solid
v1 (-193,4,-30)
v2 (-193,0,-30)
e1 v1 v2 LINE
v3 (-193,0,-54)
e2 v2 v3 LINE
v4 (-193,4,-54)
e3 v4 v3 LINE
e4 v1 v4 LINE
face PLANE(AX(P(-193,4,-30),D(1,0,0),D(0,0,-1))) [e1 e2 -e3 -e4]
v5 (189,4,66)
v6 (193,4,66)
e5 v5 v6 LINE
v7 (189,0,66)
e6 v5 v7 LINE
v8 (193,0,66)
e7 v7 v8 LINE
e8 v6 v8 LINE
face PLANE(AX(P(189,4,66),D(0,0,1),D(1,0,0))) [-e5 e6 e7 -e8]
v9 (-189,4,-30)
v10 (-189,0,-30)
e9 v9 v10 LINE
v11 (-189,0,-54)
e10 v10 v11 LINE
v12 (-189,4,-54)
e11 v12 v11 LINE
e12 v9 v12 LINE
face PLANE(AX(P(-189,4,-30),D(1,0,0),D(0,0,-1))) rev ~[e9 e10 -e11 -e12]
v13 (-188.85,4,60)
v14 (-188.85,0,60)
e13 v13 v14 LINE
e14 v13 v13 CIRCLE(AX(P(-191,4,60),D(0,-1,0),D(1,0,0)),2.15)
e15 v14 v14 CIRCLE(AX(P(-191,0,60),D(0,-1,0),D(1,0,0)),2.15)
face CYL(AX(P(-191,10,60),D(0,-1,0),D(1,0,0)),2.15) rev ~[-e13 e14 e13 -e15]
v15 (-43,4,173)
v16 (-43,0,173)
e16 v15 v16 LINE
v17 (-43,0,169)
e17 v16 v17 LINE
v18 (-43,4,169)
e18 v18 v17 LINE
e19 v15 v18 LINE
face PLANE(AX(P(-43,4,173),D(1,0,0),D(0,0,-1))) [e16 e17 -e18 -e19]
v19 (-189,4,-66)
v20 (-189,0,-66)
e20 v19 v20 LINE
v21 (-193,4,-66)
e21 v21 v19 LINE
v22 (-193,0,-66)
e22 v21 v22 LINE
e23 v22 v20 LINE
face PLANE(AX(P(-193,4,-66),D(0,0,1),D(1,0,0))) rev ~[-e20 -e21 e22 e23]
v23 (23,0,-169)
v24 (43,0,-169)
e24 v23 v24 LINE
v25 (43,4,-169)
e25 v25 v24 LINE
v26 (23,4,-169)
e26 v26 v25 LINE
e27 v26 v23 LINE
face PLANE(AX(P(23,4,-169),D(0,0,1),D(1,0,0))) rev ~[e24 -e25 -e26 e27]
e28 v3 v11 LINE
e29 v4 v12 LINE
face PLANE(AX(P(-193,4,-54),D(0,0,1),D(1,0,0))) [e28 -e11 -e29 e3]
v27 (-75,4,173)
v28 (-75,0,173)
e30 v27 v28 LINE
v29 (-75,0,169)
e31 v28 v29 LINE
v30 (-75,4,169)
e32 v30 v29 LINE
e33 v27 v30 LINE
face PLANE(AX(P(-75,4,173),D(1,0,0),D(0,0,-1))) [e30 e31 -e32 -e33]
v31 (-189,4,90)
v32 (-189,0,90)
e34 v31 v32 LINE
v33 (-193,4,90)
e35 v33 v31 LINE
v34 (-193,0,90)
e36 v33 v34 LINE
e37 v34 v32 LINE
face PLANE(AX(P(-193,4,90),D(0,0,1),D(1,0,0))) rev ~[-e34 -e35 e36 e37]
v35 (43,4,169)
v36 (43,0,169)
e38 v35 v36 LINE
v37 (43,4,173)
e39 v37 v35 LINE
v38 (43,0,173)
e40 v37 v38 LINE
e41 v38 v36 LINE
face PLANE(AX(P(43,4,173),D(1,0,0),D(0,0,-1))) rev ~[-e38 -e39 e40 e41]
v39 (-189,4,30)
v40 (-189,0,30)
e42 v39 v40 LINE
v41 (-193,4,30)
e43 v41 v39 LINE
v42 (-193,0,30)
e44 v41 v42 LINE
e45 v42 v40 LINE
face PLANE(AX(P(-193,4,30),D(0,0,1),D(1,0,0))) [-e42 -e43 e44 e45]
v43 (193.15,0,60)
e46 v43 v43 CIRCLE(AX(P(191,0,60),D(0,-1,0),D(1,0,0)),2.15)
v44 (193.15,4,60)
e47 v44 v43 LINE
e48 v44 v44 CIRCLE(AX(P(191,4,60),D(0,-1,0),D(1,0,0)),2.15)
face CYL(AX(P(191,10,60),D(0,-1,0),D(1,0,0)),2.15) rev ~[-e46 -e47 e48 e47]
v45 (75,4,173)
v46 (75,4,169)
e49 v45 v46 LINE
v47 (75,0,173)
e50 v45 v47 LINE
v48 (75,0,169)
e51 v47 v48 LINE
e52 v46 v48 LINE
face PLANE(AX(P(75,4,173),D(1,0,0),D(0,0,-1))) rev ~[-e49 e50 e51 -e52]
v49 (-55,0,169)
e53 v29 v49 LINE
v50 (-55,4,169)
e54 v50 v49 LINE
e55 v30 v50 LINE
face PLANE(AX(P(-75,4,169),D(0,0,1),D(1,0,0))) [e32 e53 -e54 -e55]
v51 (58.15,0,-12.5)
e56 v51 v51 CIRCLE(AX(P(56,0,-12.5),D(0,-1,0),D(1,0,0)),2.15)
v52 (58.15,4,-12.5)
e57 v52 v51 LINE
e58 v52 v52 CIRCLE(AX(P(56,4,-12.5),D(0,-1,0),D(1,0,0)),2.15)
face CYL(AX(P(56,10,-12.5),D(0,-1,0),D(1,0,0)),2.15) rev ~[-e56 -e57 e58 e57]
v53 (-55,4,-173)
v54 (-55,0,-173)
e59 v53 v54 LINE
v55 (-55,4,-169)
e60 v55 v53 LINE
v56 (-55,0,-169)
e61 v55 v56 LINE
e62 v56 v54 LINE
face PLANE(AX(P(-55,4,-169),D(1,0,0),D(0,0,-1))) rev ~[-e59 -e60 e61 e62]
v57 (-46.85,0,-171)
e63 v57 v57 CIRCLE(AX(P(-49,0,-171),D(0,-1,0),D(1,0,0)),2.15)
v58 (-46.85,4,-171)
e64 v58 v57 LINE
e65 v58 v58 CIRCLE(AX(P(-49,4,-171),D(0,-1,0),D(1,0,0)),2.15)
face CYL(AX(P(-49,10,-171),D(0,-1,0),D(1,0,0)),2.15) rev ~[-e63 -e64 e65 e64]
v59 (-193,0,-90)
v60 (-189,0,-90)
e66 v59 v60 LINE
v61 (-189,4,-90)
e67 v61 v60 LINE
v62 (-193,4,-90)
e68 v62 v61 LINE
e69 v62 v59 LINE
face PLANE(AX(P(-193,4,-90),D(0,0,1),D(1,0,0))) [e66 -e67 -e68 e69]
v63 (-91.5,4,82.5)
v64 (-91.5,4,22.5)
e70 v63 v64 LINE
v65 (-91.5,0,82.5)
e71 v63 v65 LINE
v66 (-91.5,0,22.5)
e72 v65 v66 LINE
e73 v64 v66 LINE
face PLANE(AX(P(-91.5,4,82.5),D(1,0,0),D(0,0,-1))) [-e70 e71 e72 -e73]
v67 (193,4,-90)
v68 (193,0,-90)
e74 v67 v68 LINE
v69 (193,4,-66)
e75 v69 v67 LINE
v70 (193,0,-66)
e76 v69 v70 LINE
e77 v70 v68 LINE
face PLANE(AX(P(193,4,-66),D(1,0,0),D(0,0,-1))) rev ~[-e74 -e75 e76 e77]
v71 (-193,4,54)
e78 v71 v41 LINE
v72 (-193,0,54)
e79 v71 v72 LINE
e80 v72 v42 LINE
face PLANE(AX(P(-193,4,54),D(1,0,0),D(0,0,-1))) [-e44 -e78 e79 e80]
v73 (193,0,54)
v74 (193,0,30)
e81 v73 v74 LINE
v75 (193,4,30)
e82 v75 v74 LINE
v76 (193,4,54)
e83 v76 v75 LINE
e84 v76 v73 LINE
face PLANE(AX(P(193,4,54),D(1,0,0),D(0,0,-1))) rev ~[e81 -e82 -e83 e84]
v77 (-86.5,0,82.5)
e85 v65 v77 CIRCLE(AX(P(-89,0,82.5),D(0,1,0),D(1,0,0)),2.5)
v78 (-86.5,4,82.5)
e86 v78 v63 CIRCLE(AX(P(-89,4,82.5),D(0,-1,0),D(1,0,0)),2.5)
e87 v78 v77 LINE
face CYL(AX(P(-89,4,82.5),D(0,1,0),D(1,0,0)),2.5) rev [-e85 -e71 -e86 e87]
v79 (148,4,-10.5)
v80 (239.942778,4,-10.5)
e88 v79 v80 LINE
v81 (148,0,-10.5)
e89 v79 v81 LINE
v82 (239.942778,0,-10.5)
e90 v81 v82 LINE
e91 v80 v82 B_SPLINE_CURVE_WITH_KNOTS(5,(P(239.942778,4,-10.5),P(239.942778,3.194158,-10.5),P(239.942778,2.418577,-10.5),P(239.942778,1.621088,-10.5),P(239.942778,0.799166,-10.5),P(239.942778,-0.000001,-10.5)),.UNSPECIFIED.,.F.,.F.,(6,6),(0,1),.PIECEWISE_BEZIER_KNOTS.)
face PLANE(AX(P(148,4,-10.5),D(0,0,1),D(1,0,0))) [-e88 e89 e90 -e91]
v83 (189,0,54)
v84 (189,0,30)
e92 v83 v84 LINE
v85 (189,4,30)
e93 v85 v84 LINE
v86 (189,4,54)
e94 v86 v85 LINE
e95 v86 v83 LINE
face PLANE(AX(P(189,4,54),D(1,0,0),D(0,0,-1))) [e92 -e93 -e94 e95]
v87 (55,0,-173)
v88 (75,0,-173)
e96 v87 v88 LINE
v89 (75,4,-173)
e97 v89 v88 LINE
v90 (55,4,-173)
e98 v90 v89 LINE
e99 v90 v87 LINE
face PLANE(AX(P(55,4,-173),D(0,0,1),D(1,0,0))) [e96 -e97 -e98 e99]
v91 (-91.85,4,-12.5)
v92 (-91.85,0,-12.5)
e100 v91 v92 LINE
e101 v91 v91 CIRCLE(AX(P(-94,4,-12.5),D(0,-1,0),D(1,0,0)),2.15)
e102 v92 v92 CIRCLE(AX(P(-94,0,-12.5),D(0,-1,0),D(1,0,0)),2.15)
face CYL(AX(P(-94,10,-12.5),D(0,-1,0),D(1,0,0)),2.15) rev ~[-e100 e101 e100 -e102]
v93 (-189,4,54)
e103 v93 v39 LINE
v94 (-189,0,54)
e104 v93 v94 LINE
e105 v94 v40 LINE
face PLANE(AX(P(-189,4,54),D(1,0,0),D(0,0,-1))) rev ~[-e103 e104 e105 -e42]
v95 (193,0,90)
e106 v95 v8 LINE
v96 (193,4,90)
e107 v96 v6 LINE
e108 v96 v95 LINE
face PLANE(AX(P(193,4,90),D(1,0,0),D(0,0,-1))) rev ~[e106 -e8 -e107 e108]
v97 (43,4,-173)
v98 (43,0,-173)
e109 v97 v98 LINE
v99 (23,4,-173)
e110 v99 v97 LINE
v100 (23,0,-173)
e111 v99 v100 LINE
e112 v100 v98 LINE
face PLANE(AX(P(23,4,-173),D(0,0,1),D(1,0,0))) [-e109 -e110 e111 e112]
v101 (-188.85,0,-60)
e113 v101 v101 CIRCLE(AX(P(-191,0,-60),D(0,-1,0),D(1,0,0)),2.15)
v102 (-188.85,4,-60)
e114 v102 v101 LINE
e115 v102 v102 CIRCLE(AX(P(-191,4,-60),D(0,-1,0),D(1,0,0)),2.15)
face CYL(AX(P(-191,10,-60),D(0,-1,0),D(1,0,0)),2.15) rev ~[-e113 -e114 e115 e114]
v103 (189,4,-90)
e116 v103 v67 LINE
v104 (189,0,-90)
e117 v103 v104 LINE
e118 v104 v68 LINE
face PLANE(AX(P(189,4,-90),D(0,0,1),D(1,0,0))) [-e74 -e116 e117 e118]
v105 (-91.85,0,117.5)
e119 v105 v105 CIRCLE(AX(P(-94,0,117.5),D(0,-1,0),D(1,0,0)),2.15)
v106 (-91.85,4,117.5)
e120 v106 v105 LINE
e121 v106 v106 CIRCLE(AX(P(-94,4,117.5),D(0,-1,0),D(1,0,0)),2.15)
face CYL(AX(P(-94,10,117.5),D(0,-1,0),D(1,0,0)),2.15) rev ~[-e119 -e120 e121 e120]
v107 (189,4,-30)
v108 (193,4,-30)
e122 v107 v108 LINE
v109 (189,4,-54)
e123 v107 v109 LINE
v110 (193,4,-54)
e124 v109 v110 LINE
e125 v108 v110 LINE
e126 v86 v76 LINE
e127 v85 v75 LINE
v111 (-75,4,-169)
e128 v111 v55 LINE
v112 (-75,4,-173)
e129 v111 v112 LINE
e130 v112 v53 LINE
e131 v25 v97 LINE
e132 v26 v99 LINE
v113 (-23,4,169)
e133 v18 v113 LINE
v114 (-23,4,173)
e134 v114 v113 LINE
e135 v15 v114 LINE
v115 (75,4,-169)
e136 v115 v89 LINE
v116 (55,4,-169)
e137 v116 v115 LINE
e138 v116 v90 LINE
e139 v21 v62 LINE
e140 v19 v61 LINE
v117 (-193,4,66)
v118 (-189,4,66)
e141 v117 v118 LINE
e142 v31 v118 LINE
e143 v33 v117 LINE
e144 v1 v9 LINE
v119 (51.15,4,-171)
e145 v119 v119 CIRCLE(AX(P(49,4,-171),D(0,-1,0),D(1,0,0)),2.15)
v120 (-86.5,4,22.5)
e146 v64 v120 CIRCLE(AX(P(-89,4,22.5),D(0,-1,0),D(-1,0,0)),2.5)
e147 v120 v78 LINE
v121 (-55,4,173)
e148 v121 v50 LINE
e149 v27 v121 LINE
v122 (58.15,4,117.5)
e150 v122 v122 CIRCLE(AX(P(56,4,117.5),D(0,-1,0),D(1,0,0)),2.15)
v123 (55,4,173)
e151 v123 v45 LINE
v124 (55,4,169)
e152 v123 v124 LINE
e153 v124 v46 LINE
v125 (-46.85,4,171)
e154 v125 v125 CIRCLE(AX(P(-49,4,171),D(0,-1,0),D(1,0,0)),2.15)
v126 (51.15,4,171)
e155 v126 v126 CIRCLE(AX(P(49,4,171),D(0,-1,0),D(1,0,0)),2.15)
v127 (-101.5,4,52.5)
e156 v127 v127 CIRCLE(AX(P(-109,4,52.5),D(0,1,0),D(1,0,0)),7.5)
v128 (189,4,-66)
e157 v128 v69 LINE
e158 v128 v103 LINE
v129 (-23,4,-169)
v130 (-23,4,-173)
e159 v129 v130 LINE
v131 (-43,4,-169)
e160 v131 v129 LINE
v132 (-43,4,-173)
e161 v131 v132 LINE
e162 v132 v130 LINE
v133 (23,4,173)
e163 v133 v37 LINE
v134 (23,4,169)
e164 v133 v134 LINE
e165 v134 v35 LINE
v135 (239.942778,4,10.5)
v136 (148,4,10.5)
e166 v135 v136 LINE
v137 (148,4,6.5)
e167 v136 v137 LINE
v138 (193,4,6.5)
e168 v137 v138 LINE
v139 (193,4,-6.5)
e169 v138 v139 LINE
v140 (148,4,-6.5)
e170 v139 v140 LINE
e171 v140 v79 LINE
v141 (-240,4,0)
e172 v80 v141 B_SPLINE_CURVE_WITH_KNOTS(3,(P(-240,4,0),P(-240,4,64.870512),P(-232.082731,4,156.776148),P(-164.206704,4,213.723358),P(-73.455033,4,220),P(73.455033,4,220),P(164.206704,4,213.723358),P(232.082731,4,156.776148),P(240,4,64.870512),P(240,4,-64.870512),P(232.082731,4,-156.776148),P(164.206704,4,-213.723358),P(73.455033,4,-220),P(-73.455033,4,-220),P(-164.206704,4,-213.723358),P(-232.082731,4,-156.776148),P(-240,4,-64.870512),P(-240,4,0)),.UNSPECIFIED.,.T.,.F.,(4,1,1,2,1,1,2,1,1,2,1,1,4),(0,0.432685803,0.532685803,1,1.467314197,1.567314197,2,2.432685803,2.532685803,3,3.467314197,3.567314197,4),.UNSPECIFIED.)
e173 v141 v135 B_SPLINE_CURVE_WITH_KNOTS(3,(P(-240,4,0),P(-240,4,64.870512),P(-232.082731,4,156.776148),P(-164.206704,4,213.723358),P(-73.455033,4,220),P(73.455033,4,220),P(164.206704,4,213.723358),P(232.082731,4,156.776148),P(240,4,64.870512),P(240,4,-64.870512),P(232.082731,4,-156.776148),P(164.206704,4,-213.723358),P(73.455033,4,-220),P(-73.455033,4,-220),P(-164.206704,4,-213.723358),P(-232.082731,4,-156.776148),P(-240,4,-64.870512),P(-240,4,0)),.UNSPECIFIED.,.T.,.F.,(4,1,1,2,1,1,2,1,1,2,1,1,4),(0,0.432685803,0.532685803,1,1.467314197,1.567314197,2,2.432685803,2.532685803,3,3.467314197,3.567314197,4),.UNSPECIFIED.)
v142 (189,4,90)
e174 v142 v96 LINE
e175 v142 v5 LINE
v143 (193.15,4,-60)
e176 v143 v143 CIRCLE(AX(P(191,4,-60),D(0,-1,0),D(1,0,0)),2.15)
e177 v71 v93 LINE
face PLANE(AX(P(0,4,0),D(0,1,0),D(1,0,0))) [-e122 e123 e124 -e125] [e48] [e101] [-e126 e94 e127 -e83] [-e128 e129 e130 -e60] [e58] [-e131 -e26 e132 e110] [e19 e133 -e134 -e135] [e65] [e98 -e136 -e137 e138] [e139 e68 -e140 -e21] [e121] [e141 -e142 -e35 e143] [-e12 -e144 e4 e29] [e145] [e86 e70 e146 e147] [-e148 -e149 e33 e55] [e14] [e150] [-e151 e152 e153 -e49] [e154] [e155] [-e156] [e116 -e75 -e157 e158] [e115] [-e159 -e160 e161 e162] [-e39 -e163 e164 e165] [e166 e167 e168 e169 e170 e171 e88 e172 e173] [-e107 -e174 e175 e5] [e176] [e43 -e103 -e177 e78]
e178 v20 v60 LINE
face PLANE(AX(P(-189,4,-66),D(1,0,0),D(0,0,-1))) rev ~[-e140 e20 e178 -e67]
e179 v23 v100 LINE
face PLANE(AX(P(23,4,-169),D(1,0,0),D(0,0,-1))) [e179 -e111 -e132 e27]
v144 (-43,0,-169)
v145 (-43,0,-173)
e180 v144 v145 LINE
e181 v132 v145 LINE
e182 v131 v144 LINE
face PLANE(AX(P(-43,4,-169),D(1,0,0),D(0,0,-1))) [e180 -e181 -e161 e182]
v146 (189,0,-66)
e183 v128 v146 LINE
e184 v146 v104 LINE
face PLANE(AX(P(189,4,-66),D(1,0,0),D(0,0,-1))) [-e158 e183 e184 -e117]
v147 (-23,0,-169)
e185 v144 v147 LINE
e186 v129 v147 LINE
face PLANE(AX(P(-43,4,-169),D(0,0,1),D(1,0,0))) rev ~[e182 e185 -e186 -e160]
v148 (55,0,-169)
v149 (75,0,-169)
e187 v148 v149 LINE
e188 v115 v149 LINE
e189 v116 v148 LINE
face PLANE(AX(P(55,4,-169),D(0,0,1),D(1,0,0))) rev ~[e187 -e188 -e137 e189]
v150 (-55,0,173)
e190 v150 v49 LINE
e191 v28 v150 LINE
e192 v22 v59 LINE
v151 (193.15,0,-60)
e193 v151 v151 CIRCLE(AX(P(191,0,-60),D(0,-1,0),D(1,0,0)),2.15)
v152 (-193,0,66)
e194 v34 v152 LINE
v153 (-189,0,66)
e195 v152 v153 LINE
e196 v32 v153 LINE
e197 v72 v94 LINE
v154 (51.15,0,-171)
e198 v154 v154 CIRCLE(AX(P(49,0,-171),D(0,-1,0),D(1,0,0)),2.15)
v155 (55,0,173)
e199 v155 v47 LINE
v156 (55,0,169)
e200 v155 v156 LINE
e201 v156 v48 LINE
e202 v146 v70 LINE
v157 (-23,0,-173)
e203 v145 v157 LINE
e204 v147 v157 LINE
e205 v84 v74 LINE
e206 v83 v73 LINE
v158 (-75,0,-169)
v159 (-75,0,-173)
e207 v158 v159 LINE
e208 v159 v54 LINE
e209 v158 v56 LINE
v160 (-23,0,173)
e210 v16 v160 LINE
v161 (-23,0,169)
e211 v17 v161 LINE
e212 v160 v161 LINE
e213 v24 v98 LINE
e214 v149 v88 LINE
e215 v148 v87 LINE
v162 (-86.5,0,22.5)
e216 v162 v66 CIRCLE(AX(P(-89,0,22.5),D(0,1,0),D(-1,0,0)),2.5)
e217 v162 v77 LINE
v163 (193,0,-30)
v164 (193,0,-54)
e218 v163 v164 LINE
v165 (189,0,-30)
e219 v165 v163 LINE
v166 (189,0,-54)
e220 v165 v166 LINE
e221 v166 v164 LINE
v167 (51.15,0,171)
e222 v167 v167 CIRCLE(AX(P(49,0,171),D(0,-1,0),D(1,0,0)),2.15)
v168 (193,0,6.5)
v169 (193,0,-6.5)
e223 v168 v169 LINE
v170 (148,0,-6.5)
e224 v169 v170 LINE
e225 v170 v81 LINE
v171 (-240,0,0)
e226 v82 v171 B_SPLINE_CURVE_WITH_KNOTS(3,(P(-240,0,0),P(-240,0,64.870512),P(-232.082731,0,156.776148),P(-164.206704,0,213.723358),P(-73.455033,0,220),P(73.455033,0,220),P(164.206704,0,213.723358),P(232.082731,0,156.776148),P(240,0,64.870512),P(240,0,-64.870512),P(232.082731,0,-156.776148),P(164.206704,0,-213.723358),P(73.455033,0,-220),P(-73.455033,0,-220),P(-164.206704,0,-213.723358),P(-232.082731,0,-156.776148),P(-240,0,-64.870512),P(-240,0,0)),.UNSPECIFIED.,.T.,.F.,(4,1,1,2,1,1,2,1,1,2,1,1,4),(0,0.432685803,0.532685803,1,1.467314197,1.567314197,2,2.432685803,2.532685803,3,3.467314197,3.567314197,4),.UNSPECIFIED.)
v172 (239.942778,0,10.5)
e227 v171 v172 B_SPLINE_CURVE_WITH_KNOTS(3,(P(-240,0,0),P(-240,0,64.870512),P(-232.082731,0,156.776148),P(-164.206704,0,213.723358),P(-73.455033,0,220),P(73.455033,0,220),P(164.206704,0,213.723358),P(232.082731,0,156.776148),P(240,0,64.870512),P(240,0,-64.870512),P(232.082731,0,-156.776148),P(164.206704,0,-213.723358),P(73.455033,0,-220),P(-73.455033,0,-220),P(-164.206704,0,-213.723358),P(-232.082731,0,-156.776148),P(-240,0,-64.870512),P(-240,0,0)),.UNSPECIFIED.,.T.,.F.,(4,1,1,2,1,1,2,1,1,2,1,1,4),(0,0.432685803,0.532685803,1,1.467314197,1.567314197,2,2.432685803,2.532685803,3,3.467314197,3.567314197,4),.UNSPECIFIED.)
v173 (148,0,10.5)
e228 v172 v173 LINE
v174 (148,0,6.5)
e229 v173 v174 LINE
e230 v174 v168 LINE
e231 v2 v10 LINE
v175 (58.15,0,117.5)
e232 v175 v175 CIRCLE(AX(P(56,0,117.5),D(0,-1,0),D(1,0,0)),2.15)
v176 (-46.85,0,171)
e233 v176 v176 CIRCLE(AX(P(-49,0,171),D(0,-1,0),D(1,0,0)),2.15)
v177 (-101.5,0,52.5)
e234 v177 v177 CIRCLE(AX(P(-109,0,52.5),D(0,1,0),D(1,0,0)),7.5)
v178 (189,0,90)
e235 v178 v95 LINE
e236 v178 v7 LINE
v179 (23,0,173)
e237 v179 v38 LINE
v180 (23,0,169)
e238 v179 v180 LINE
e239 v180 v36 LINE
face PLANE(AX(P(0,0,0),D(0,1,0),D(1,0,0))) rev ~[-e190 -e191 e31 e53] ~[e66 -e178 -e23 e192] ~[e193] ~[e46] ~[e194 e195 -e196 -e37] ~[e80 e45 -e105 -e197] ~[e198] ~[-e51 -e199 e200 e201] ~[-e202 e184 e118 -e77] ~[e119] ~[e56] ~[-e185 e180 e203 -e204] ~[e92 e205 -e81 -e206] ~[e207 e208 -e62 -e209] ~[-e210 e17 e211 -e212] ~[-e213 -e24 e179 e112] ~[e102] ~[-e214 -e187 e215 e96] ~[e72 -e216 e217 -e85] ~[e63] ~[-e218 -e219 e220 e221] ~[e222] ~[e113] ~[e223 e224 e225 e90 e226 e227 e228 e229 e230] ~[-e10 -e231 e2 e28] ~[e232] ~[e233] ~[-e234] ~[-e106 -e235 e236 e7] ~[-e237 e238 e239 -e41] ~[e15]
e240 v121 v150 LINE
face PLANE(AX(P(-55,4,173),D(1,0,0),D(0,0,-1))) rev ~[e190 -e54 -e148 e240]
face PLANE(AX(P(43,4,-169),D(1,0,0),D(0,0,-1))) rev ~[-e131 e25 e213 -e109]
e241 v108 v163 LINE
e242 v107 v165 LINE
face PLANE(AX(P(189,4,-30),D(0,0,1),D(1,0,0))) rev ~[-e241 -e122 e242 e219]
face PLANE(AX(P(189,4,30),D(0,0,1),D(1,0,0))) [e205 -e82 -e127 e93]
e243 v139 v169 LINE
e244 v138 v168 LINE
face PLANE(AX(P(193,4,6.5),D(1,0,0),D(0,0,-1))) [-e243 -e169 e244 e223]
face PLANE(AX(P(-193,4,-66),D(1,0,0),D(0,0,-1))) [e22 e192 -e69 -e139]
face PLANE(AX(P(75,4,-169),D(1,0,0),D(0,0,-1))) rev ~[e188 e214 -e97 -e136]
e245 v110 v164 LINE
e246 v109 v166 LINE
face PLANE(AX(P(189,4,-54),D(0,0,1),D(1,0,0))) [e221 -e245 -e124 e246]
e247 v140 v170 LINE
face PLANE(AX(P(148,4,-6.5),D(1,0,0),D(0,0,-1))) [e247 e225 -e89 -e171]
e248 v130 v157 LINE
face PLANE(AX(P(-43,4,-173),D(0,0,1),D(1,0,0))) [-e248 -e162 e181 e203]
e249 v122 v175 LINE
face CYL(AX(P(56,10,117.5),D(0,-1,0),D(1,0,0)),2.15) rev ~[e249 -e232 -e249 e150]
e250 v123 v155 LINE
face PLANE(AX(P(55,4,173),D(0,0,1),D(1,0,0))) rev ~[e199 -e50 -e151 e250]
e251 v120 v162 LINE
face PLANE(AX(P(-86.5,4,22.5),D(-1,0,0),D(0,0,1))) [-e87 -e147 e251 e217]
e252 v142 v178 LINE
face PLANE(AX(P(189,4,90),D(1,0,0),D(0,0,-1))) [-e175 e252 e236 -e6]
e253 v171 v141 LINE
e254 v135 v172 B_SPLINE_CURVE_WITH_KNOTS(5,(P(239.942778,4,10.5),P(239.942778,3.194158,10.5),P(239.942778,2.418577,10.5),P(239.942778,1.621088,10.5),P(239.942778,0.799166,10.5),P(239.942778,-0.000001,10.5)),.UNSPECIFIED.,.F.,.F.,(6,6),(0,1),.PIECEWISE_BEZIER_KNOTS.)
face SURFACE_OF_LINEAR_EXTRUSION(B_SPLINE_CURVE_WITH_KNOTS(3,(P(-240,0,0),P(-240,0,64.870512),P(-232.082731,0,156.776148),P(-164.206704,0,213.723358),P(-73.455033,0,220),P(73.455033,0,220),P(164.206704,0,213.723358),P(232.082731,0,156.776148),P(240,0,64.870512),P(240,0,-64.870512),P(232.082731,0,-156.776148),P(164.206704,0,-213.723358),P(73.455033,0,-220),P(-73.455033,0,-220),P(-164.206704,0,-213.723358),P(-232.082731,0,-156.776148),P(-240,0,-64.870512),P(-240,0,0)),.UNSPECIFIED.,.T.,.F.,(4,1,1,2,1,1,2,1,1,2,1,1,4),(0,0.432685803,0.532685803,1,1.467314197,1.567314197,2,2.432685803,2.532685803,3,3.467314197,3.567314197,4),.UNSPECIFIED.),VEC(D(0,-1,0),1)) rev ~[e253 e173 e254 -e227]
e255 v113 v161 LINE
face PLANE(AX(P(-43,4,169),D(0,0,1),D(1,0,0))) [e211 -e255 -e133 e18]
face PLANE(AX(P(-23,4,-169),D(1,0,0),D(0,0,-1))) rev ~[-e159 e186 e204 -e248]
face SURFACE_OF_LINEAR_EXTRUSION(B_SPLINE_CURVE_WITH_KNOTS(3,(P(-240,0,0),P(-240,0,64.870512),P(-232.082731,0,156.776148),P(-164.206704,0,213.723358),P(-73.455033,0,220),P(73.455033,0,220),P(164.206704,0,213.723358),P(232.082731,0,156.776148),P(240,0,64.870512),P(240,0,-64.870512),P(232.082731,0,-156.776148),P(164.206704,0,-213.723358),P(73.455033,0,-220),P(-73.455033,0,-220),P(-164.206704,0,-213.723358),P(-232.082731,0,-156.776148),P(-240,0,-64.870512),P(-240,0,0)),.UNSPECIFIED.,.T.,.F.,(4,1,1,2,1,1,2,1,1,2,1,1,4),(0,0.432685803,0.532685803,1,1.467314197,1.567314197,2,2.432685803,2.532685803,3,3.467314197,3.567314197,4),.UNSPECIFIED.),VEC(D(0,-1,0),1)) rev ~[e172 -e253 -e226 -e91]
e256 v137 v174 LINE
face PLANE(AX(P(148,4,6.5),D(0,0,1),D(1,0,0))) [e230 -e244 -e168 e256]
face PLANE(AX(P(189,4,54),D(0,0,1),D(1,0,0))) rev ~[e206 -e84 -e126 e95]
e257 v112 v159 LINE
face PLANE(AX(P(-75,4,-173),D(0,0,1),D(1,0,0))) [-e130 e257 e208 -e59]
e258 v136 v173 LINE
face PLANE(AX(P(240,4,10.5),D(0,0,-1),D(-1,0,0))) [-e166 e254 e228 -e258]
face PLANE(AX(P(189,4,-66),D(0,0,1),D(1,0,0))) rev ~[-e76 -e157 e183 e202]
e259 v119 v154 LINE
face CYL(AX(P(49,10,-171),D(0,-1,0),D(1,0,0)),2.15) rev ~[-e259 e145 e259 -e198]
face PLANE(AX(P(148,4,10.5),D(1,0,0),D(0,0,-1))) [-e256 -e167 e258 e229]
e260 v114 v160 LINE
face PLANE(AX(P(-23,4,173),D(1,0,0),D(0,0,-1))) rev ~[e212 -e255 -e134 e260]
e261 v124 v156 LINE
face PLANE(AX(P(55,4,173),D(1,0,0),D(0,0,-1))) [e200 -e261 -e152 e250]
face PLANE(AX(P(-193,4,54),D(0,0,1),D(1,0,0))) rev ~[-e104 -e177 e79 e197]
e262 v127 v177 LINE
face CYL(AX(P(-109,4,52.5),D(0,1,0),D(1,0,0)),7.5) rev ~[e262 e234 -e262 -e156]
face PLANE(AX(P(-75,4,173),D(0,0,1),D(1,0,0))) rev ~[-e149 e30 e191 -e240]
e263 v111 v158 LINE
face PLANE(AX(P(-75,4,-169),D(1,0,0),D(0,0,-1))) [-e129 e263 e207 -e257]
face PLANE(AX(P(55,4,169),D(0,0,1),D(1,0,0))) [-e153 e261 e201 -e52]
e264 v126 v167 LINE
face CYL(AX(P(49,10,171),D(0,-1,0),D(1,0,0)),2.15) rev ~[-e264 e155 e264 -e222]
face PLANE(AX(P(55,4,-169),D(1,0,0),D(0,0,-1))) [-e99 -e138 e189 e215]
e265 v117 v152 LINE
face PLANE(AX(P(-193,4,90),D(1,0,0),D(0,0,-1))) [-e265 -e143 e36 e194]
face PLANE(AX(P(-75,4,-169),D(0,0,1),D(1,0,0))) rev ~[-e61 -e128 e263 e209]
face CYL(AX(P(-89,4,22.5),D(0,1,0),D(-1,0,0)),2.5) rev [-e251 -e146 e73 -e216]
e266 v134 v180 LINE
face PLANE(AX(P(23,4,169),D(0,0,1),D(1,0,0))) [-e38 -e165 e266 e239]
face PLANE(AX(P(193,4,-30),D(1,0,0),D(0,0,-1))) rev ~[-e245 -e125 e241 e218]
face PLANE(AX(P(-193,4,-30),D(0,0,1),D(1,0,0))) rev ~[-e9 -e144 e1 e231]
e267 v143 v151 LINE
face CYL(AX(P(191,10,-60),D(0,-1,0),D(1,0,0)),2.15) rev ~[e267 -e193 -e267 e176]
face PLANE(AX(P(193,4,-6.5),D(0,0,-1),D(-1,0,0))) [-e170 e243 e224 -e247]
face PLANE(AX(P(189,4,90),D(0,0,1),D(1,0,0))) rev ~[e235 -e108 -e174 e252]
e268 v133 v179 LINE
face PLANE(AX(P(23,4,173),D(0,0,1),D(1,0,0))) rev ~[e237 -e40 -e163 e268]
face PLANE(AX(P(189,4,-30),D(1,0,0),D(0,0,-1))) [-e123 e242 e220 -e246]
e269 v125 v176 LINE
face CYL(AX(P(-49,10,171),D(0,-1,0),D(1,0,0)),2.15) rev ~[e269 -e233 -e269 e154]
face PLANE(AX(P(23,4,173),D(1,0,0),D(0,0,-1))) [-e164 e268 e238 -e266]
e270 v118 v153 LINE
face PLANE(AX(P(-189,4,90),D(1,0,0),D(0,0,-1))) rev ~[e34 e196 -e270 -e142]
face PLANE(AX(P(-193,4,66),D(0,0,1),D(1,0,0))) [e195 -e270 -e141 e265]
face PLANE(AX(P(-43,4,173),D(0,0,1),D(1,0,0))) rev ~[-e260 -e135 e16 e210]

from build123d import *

# Parameters (mm, degrees)
BOSS_EXTRUDE1_DEPTH      = 4
SKETCH2_W                = 4
SKETCH2_H                = 24
SKETCH2_W_2              = 20
SKETCH2_H_2              = 4
CUT_EXTRUDE1_DEPTH       = 6
M4_CLEARANCE_HOLE1_D     = 4.3
M4_CLEARANCE_HOLE1_DEPTH = 6
M4_CLEARANCE_HOLE1_TIP   = 1.291850331
M4_CLEARANCE_HOLE2_D     = 4.3
M4_CLEARANCE_HOLE2_DEPTH = 6
M4_CLEARANCE_HOLE2_TIP   = 1.291850331
SKETCH7_R                = 7.5
CUT_EXTRUDE2_DEPTH       = 10


with BuildPart() as part:
    # Sketch1 → Boss-Extrude1 (new body)
    with BuildSketch(Plane(origin=(0, 0, 0), x_dir=(1, 0, 0), z_dir=(0, 1, 0))):
        with BuildLine():
            add(Edge.make_bspline(
                [(0, 220), (-73.455033332, 220), (-164.206703598, 213.723358009), (-232.08273123, 156.77614821), (-240, 64.870512103), (-240, 0)],
                knots=[0, 0, 0, 0, 0.467314197, 0.567314197, 1, 1, 1, 1], degree=3))
            add(Edge.make_bspline(
                [(0, -220), (-73.455033332, -220), (-164.206703598, -213.723358009), (-232.08273123, -156.77614821), (-240, -64.870512103), (-240, 0)],
                knots=[0, 0, 0, 0, 0.467314197, 0.567314197, 1, 1, 1, 1], degree=3))
            add(Edge.make_bspline(
                [(0, -220), (73.455033332, -220), (164.206703598, -213.723358009), (232.08273123, -156.77614821), (240, -64.870512103), (240, 0)],
                knots=[0, 0, 0, 0, 0.467314197, 0.567314197, 1, 1, 1, 1], degree=3))
            add(Edge.make_bspline(
                [(0, 220), (73.455033332, 220), (164.206703598, 213.723358009), (232.08273123, 156.77614821), (240, 64.870512103), (240, 0)],
                knots=[0, 0, 0, 0, 0.467314197, 0.567314197, 1, 1, 1, 1], degree=3))
        make_face()
    extrude(amount=BOSS_EXTRUDE1_DEPTH)

    # Sketch2 → Cut-Extrude1 (cut)
    with BuildSketch(Plane(origin=(0, 4, 0), x_dir=(1, 0, 0), z_dir=(0, 1, 0))):
        Polygon((148, 10.5), (240, 10.5), (240, 6.5), (240, -6.5), (240, -10.5), (148, -10.5), (148, -6.5), (193, -6.5), (193, 6.5), (148, 6.5), align=None)
        with Locations((-191, 78)):
            Rectangle(SKETCH2_W, SKETCH2_H)
        with Locations((-191, 42)):
            Rectangle(SKETCH2_W, SKETCH2_H)
        with Locations((-191, -42)):
            Rectangle(SKETCH2_W, SKETCH2_H)
        with Locations((-191, -78)):
            Rectangle(SKETCH2_W, SKETCH2_H)
        with Locations((65, 171)):
            Rectangle(SKETCH2_W_2, SKETCH2_H_2)
        with Locations((-65, -171)):
            Rectangle(SKETCH2_W_2, SKETCH2_H_2)
        with Locations((-33, -171)):
            Rectangle(SKETCH2_W_2, SKETCH2_H_2)
        with Locations((33, -171)):
            Rectangle(SKETCH2_W_2, SKETCH2_H_2)
        with Locations((65, -171)):
            Rectangle(SKETCH2_W_2, SKETCH2_H_2)
        with Locations((33, 171)):
            Rectangle(SKETCH2_W_2, SKETCH2_H_2)
        with Locations((-33, 171)):
            Rectangle(SKETCH2_W_2, SKETCH2_H_2)
        with Locations((-65, 171)):
            Rectangle(SKETCH2_W_2, SKETCH2_H_2)
        with Locations((191, -78)):
            Rectangle(SKETCH2_W, SKETCH2_H)
        with Locations((191, -42)):
            Rectangle(SKETCH2_W, SKETCH2_H)
        with Locations((191, 42)):
            Rectangle(SKETCH2_W, SKETCH2_H)
        with Locations((191, 78)):
            Rectangle(SKETCH2_W, SKETCH2_H)
    extrude(amount=-CUT_EXTRUDE1_DEPTH, mode=Mode.SUBTRACT)

    # M4 Clearance Hole1
    with Locations(Plane(origin=(0, 4, 0), x_dir=(-1, 0, 0), z_dir=(0, 1, 0))):
        with Locations((49, -171), (-49, -171), (-191, -60), (-191, 60), (-49, 171), (49, 171), (191, 60), (191, -60)):
            Hole(M4_CLEARANCE_HOLE1_D / 2, depth=M4_CLEARANCE_HOLE1_DEPTH)
            with Locations((0, 0, -(M4_CLEARANCE_HOLE1_DEPTH + M4_CLEARANCE_HOLE1_TIP / 2))):  # 118° drill point
                Cone(0, M4_CLEARANCE_HOLE1_D / 2, M4_CLEARANCE_HOLE1_TIP, mode=Mode.SUBTRACT)

    # M4 Clearance Hole2
    with Locations(Plane(origin=(0, 4, 0), x_dir=(-1, 0, 0), z_dir=(0, 1, 0))):
        with Locations((94, -12.5), (-56, -12.5), (-56, 117.5), (94, 117.5)):
            Hole(M4_CLEARANCE_HOLE2_D / 2, depth=M4_CLEARANCE_HOLE2_DEPTH)
            with Locations((0, 0, -(M4_CLEARANCE_HOLE2_DEPTH + M4_CLEARANCE_HOLE2_TIP / 2))):  # 118° drill point
                Cone(0, M4_CLEARANCE_HOLE2_D / 2, M4_CLEARANCE_HOLE2_TIP, mode=Mode.SUBTRACT)

    # Sketch7 → Cut-Extrude2 (cut)
    with BuildSketch(Plane(origin=(0, 4, 0), x_dir=(1, 0, 0), z_dir=(0, 1, 0))):
        with Locations((-109, -52.5)):
            Circle(SKETCH7_R)
        with BuildLine():
            Line((-86.5, -22.5), (-86.5, -82.5))
            ThreePointArc((-86.5, -82.5), (-89, -85), (-91.5, -82.5))
            Line((-91.5, -82.5), (-91.5, -22.5))
            ThreePointArc((-91.5, -22.5), (-89, -20), (-86.5, -22.5))
        make_face()
    extrude(amount=-CUT_EXTRUDE2_DEPTH, mode=Mode.SUBTRACT)


solid = part.part
